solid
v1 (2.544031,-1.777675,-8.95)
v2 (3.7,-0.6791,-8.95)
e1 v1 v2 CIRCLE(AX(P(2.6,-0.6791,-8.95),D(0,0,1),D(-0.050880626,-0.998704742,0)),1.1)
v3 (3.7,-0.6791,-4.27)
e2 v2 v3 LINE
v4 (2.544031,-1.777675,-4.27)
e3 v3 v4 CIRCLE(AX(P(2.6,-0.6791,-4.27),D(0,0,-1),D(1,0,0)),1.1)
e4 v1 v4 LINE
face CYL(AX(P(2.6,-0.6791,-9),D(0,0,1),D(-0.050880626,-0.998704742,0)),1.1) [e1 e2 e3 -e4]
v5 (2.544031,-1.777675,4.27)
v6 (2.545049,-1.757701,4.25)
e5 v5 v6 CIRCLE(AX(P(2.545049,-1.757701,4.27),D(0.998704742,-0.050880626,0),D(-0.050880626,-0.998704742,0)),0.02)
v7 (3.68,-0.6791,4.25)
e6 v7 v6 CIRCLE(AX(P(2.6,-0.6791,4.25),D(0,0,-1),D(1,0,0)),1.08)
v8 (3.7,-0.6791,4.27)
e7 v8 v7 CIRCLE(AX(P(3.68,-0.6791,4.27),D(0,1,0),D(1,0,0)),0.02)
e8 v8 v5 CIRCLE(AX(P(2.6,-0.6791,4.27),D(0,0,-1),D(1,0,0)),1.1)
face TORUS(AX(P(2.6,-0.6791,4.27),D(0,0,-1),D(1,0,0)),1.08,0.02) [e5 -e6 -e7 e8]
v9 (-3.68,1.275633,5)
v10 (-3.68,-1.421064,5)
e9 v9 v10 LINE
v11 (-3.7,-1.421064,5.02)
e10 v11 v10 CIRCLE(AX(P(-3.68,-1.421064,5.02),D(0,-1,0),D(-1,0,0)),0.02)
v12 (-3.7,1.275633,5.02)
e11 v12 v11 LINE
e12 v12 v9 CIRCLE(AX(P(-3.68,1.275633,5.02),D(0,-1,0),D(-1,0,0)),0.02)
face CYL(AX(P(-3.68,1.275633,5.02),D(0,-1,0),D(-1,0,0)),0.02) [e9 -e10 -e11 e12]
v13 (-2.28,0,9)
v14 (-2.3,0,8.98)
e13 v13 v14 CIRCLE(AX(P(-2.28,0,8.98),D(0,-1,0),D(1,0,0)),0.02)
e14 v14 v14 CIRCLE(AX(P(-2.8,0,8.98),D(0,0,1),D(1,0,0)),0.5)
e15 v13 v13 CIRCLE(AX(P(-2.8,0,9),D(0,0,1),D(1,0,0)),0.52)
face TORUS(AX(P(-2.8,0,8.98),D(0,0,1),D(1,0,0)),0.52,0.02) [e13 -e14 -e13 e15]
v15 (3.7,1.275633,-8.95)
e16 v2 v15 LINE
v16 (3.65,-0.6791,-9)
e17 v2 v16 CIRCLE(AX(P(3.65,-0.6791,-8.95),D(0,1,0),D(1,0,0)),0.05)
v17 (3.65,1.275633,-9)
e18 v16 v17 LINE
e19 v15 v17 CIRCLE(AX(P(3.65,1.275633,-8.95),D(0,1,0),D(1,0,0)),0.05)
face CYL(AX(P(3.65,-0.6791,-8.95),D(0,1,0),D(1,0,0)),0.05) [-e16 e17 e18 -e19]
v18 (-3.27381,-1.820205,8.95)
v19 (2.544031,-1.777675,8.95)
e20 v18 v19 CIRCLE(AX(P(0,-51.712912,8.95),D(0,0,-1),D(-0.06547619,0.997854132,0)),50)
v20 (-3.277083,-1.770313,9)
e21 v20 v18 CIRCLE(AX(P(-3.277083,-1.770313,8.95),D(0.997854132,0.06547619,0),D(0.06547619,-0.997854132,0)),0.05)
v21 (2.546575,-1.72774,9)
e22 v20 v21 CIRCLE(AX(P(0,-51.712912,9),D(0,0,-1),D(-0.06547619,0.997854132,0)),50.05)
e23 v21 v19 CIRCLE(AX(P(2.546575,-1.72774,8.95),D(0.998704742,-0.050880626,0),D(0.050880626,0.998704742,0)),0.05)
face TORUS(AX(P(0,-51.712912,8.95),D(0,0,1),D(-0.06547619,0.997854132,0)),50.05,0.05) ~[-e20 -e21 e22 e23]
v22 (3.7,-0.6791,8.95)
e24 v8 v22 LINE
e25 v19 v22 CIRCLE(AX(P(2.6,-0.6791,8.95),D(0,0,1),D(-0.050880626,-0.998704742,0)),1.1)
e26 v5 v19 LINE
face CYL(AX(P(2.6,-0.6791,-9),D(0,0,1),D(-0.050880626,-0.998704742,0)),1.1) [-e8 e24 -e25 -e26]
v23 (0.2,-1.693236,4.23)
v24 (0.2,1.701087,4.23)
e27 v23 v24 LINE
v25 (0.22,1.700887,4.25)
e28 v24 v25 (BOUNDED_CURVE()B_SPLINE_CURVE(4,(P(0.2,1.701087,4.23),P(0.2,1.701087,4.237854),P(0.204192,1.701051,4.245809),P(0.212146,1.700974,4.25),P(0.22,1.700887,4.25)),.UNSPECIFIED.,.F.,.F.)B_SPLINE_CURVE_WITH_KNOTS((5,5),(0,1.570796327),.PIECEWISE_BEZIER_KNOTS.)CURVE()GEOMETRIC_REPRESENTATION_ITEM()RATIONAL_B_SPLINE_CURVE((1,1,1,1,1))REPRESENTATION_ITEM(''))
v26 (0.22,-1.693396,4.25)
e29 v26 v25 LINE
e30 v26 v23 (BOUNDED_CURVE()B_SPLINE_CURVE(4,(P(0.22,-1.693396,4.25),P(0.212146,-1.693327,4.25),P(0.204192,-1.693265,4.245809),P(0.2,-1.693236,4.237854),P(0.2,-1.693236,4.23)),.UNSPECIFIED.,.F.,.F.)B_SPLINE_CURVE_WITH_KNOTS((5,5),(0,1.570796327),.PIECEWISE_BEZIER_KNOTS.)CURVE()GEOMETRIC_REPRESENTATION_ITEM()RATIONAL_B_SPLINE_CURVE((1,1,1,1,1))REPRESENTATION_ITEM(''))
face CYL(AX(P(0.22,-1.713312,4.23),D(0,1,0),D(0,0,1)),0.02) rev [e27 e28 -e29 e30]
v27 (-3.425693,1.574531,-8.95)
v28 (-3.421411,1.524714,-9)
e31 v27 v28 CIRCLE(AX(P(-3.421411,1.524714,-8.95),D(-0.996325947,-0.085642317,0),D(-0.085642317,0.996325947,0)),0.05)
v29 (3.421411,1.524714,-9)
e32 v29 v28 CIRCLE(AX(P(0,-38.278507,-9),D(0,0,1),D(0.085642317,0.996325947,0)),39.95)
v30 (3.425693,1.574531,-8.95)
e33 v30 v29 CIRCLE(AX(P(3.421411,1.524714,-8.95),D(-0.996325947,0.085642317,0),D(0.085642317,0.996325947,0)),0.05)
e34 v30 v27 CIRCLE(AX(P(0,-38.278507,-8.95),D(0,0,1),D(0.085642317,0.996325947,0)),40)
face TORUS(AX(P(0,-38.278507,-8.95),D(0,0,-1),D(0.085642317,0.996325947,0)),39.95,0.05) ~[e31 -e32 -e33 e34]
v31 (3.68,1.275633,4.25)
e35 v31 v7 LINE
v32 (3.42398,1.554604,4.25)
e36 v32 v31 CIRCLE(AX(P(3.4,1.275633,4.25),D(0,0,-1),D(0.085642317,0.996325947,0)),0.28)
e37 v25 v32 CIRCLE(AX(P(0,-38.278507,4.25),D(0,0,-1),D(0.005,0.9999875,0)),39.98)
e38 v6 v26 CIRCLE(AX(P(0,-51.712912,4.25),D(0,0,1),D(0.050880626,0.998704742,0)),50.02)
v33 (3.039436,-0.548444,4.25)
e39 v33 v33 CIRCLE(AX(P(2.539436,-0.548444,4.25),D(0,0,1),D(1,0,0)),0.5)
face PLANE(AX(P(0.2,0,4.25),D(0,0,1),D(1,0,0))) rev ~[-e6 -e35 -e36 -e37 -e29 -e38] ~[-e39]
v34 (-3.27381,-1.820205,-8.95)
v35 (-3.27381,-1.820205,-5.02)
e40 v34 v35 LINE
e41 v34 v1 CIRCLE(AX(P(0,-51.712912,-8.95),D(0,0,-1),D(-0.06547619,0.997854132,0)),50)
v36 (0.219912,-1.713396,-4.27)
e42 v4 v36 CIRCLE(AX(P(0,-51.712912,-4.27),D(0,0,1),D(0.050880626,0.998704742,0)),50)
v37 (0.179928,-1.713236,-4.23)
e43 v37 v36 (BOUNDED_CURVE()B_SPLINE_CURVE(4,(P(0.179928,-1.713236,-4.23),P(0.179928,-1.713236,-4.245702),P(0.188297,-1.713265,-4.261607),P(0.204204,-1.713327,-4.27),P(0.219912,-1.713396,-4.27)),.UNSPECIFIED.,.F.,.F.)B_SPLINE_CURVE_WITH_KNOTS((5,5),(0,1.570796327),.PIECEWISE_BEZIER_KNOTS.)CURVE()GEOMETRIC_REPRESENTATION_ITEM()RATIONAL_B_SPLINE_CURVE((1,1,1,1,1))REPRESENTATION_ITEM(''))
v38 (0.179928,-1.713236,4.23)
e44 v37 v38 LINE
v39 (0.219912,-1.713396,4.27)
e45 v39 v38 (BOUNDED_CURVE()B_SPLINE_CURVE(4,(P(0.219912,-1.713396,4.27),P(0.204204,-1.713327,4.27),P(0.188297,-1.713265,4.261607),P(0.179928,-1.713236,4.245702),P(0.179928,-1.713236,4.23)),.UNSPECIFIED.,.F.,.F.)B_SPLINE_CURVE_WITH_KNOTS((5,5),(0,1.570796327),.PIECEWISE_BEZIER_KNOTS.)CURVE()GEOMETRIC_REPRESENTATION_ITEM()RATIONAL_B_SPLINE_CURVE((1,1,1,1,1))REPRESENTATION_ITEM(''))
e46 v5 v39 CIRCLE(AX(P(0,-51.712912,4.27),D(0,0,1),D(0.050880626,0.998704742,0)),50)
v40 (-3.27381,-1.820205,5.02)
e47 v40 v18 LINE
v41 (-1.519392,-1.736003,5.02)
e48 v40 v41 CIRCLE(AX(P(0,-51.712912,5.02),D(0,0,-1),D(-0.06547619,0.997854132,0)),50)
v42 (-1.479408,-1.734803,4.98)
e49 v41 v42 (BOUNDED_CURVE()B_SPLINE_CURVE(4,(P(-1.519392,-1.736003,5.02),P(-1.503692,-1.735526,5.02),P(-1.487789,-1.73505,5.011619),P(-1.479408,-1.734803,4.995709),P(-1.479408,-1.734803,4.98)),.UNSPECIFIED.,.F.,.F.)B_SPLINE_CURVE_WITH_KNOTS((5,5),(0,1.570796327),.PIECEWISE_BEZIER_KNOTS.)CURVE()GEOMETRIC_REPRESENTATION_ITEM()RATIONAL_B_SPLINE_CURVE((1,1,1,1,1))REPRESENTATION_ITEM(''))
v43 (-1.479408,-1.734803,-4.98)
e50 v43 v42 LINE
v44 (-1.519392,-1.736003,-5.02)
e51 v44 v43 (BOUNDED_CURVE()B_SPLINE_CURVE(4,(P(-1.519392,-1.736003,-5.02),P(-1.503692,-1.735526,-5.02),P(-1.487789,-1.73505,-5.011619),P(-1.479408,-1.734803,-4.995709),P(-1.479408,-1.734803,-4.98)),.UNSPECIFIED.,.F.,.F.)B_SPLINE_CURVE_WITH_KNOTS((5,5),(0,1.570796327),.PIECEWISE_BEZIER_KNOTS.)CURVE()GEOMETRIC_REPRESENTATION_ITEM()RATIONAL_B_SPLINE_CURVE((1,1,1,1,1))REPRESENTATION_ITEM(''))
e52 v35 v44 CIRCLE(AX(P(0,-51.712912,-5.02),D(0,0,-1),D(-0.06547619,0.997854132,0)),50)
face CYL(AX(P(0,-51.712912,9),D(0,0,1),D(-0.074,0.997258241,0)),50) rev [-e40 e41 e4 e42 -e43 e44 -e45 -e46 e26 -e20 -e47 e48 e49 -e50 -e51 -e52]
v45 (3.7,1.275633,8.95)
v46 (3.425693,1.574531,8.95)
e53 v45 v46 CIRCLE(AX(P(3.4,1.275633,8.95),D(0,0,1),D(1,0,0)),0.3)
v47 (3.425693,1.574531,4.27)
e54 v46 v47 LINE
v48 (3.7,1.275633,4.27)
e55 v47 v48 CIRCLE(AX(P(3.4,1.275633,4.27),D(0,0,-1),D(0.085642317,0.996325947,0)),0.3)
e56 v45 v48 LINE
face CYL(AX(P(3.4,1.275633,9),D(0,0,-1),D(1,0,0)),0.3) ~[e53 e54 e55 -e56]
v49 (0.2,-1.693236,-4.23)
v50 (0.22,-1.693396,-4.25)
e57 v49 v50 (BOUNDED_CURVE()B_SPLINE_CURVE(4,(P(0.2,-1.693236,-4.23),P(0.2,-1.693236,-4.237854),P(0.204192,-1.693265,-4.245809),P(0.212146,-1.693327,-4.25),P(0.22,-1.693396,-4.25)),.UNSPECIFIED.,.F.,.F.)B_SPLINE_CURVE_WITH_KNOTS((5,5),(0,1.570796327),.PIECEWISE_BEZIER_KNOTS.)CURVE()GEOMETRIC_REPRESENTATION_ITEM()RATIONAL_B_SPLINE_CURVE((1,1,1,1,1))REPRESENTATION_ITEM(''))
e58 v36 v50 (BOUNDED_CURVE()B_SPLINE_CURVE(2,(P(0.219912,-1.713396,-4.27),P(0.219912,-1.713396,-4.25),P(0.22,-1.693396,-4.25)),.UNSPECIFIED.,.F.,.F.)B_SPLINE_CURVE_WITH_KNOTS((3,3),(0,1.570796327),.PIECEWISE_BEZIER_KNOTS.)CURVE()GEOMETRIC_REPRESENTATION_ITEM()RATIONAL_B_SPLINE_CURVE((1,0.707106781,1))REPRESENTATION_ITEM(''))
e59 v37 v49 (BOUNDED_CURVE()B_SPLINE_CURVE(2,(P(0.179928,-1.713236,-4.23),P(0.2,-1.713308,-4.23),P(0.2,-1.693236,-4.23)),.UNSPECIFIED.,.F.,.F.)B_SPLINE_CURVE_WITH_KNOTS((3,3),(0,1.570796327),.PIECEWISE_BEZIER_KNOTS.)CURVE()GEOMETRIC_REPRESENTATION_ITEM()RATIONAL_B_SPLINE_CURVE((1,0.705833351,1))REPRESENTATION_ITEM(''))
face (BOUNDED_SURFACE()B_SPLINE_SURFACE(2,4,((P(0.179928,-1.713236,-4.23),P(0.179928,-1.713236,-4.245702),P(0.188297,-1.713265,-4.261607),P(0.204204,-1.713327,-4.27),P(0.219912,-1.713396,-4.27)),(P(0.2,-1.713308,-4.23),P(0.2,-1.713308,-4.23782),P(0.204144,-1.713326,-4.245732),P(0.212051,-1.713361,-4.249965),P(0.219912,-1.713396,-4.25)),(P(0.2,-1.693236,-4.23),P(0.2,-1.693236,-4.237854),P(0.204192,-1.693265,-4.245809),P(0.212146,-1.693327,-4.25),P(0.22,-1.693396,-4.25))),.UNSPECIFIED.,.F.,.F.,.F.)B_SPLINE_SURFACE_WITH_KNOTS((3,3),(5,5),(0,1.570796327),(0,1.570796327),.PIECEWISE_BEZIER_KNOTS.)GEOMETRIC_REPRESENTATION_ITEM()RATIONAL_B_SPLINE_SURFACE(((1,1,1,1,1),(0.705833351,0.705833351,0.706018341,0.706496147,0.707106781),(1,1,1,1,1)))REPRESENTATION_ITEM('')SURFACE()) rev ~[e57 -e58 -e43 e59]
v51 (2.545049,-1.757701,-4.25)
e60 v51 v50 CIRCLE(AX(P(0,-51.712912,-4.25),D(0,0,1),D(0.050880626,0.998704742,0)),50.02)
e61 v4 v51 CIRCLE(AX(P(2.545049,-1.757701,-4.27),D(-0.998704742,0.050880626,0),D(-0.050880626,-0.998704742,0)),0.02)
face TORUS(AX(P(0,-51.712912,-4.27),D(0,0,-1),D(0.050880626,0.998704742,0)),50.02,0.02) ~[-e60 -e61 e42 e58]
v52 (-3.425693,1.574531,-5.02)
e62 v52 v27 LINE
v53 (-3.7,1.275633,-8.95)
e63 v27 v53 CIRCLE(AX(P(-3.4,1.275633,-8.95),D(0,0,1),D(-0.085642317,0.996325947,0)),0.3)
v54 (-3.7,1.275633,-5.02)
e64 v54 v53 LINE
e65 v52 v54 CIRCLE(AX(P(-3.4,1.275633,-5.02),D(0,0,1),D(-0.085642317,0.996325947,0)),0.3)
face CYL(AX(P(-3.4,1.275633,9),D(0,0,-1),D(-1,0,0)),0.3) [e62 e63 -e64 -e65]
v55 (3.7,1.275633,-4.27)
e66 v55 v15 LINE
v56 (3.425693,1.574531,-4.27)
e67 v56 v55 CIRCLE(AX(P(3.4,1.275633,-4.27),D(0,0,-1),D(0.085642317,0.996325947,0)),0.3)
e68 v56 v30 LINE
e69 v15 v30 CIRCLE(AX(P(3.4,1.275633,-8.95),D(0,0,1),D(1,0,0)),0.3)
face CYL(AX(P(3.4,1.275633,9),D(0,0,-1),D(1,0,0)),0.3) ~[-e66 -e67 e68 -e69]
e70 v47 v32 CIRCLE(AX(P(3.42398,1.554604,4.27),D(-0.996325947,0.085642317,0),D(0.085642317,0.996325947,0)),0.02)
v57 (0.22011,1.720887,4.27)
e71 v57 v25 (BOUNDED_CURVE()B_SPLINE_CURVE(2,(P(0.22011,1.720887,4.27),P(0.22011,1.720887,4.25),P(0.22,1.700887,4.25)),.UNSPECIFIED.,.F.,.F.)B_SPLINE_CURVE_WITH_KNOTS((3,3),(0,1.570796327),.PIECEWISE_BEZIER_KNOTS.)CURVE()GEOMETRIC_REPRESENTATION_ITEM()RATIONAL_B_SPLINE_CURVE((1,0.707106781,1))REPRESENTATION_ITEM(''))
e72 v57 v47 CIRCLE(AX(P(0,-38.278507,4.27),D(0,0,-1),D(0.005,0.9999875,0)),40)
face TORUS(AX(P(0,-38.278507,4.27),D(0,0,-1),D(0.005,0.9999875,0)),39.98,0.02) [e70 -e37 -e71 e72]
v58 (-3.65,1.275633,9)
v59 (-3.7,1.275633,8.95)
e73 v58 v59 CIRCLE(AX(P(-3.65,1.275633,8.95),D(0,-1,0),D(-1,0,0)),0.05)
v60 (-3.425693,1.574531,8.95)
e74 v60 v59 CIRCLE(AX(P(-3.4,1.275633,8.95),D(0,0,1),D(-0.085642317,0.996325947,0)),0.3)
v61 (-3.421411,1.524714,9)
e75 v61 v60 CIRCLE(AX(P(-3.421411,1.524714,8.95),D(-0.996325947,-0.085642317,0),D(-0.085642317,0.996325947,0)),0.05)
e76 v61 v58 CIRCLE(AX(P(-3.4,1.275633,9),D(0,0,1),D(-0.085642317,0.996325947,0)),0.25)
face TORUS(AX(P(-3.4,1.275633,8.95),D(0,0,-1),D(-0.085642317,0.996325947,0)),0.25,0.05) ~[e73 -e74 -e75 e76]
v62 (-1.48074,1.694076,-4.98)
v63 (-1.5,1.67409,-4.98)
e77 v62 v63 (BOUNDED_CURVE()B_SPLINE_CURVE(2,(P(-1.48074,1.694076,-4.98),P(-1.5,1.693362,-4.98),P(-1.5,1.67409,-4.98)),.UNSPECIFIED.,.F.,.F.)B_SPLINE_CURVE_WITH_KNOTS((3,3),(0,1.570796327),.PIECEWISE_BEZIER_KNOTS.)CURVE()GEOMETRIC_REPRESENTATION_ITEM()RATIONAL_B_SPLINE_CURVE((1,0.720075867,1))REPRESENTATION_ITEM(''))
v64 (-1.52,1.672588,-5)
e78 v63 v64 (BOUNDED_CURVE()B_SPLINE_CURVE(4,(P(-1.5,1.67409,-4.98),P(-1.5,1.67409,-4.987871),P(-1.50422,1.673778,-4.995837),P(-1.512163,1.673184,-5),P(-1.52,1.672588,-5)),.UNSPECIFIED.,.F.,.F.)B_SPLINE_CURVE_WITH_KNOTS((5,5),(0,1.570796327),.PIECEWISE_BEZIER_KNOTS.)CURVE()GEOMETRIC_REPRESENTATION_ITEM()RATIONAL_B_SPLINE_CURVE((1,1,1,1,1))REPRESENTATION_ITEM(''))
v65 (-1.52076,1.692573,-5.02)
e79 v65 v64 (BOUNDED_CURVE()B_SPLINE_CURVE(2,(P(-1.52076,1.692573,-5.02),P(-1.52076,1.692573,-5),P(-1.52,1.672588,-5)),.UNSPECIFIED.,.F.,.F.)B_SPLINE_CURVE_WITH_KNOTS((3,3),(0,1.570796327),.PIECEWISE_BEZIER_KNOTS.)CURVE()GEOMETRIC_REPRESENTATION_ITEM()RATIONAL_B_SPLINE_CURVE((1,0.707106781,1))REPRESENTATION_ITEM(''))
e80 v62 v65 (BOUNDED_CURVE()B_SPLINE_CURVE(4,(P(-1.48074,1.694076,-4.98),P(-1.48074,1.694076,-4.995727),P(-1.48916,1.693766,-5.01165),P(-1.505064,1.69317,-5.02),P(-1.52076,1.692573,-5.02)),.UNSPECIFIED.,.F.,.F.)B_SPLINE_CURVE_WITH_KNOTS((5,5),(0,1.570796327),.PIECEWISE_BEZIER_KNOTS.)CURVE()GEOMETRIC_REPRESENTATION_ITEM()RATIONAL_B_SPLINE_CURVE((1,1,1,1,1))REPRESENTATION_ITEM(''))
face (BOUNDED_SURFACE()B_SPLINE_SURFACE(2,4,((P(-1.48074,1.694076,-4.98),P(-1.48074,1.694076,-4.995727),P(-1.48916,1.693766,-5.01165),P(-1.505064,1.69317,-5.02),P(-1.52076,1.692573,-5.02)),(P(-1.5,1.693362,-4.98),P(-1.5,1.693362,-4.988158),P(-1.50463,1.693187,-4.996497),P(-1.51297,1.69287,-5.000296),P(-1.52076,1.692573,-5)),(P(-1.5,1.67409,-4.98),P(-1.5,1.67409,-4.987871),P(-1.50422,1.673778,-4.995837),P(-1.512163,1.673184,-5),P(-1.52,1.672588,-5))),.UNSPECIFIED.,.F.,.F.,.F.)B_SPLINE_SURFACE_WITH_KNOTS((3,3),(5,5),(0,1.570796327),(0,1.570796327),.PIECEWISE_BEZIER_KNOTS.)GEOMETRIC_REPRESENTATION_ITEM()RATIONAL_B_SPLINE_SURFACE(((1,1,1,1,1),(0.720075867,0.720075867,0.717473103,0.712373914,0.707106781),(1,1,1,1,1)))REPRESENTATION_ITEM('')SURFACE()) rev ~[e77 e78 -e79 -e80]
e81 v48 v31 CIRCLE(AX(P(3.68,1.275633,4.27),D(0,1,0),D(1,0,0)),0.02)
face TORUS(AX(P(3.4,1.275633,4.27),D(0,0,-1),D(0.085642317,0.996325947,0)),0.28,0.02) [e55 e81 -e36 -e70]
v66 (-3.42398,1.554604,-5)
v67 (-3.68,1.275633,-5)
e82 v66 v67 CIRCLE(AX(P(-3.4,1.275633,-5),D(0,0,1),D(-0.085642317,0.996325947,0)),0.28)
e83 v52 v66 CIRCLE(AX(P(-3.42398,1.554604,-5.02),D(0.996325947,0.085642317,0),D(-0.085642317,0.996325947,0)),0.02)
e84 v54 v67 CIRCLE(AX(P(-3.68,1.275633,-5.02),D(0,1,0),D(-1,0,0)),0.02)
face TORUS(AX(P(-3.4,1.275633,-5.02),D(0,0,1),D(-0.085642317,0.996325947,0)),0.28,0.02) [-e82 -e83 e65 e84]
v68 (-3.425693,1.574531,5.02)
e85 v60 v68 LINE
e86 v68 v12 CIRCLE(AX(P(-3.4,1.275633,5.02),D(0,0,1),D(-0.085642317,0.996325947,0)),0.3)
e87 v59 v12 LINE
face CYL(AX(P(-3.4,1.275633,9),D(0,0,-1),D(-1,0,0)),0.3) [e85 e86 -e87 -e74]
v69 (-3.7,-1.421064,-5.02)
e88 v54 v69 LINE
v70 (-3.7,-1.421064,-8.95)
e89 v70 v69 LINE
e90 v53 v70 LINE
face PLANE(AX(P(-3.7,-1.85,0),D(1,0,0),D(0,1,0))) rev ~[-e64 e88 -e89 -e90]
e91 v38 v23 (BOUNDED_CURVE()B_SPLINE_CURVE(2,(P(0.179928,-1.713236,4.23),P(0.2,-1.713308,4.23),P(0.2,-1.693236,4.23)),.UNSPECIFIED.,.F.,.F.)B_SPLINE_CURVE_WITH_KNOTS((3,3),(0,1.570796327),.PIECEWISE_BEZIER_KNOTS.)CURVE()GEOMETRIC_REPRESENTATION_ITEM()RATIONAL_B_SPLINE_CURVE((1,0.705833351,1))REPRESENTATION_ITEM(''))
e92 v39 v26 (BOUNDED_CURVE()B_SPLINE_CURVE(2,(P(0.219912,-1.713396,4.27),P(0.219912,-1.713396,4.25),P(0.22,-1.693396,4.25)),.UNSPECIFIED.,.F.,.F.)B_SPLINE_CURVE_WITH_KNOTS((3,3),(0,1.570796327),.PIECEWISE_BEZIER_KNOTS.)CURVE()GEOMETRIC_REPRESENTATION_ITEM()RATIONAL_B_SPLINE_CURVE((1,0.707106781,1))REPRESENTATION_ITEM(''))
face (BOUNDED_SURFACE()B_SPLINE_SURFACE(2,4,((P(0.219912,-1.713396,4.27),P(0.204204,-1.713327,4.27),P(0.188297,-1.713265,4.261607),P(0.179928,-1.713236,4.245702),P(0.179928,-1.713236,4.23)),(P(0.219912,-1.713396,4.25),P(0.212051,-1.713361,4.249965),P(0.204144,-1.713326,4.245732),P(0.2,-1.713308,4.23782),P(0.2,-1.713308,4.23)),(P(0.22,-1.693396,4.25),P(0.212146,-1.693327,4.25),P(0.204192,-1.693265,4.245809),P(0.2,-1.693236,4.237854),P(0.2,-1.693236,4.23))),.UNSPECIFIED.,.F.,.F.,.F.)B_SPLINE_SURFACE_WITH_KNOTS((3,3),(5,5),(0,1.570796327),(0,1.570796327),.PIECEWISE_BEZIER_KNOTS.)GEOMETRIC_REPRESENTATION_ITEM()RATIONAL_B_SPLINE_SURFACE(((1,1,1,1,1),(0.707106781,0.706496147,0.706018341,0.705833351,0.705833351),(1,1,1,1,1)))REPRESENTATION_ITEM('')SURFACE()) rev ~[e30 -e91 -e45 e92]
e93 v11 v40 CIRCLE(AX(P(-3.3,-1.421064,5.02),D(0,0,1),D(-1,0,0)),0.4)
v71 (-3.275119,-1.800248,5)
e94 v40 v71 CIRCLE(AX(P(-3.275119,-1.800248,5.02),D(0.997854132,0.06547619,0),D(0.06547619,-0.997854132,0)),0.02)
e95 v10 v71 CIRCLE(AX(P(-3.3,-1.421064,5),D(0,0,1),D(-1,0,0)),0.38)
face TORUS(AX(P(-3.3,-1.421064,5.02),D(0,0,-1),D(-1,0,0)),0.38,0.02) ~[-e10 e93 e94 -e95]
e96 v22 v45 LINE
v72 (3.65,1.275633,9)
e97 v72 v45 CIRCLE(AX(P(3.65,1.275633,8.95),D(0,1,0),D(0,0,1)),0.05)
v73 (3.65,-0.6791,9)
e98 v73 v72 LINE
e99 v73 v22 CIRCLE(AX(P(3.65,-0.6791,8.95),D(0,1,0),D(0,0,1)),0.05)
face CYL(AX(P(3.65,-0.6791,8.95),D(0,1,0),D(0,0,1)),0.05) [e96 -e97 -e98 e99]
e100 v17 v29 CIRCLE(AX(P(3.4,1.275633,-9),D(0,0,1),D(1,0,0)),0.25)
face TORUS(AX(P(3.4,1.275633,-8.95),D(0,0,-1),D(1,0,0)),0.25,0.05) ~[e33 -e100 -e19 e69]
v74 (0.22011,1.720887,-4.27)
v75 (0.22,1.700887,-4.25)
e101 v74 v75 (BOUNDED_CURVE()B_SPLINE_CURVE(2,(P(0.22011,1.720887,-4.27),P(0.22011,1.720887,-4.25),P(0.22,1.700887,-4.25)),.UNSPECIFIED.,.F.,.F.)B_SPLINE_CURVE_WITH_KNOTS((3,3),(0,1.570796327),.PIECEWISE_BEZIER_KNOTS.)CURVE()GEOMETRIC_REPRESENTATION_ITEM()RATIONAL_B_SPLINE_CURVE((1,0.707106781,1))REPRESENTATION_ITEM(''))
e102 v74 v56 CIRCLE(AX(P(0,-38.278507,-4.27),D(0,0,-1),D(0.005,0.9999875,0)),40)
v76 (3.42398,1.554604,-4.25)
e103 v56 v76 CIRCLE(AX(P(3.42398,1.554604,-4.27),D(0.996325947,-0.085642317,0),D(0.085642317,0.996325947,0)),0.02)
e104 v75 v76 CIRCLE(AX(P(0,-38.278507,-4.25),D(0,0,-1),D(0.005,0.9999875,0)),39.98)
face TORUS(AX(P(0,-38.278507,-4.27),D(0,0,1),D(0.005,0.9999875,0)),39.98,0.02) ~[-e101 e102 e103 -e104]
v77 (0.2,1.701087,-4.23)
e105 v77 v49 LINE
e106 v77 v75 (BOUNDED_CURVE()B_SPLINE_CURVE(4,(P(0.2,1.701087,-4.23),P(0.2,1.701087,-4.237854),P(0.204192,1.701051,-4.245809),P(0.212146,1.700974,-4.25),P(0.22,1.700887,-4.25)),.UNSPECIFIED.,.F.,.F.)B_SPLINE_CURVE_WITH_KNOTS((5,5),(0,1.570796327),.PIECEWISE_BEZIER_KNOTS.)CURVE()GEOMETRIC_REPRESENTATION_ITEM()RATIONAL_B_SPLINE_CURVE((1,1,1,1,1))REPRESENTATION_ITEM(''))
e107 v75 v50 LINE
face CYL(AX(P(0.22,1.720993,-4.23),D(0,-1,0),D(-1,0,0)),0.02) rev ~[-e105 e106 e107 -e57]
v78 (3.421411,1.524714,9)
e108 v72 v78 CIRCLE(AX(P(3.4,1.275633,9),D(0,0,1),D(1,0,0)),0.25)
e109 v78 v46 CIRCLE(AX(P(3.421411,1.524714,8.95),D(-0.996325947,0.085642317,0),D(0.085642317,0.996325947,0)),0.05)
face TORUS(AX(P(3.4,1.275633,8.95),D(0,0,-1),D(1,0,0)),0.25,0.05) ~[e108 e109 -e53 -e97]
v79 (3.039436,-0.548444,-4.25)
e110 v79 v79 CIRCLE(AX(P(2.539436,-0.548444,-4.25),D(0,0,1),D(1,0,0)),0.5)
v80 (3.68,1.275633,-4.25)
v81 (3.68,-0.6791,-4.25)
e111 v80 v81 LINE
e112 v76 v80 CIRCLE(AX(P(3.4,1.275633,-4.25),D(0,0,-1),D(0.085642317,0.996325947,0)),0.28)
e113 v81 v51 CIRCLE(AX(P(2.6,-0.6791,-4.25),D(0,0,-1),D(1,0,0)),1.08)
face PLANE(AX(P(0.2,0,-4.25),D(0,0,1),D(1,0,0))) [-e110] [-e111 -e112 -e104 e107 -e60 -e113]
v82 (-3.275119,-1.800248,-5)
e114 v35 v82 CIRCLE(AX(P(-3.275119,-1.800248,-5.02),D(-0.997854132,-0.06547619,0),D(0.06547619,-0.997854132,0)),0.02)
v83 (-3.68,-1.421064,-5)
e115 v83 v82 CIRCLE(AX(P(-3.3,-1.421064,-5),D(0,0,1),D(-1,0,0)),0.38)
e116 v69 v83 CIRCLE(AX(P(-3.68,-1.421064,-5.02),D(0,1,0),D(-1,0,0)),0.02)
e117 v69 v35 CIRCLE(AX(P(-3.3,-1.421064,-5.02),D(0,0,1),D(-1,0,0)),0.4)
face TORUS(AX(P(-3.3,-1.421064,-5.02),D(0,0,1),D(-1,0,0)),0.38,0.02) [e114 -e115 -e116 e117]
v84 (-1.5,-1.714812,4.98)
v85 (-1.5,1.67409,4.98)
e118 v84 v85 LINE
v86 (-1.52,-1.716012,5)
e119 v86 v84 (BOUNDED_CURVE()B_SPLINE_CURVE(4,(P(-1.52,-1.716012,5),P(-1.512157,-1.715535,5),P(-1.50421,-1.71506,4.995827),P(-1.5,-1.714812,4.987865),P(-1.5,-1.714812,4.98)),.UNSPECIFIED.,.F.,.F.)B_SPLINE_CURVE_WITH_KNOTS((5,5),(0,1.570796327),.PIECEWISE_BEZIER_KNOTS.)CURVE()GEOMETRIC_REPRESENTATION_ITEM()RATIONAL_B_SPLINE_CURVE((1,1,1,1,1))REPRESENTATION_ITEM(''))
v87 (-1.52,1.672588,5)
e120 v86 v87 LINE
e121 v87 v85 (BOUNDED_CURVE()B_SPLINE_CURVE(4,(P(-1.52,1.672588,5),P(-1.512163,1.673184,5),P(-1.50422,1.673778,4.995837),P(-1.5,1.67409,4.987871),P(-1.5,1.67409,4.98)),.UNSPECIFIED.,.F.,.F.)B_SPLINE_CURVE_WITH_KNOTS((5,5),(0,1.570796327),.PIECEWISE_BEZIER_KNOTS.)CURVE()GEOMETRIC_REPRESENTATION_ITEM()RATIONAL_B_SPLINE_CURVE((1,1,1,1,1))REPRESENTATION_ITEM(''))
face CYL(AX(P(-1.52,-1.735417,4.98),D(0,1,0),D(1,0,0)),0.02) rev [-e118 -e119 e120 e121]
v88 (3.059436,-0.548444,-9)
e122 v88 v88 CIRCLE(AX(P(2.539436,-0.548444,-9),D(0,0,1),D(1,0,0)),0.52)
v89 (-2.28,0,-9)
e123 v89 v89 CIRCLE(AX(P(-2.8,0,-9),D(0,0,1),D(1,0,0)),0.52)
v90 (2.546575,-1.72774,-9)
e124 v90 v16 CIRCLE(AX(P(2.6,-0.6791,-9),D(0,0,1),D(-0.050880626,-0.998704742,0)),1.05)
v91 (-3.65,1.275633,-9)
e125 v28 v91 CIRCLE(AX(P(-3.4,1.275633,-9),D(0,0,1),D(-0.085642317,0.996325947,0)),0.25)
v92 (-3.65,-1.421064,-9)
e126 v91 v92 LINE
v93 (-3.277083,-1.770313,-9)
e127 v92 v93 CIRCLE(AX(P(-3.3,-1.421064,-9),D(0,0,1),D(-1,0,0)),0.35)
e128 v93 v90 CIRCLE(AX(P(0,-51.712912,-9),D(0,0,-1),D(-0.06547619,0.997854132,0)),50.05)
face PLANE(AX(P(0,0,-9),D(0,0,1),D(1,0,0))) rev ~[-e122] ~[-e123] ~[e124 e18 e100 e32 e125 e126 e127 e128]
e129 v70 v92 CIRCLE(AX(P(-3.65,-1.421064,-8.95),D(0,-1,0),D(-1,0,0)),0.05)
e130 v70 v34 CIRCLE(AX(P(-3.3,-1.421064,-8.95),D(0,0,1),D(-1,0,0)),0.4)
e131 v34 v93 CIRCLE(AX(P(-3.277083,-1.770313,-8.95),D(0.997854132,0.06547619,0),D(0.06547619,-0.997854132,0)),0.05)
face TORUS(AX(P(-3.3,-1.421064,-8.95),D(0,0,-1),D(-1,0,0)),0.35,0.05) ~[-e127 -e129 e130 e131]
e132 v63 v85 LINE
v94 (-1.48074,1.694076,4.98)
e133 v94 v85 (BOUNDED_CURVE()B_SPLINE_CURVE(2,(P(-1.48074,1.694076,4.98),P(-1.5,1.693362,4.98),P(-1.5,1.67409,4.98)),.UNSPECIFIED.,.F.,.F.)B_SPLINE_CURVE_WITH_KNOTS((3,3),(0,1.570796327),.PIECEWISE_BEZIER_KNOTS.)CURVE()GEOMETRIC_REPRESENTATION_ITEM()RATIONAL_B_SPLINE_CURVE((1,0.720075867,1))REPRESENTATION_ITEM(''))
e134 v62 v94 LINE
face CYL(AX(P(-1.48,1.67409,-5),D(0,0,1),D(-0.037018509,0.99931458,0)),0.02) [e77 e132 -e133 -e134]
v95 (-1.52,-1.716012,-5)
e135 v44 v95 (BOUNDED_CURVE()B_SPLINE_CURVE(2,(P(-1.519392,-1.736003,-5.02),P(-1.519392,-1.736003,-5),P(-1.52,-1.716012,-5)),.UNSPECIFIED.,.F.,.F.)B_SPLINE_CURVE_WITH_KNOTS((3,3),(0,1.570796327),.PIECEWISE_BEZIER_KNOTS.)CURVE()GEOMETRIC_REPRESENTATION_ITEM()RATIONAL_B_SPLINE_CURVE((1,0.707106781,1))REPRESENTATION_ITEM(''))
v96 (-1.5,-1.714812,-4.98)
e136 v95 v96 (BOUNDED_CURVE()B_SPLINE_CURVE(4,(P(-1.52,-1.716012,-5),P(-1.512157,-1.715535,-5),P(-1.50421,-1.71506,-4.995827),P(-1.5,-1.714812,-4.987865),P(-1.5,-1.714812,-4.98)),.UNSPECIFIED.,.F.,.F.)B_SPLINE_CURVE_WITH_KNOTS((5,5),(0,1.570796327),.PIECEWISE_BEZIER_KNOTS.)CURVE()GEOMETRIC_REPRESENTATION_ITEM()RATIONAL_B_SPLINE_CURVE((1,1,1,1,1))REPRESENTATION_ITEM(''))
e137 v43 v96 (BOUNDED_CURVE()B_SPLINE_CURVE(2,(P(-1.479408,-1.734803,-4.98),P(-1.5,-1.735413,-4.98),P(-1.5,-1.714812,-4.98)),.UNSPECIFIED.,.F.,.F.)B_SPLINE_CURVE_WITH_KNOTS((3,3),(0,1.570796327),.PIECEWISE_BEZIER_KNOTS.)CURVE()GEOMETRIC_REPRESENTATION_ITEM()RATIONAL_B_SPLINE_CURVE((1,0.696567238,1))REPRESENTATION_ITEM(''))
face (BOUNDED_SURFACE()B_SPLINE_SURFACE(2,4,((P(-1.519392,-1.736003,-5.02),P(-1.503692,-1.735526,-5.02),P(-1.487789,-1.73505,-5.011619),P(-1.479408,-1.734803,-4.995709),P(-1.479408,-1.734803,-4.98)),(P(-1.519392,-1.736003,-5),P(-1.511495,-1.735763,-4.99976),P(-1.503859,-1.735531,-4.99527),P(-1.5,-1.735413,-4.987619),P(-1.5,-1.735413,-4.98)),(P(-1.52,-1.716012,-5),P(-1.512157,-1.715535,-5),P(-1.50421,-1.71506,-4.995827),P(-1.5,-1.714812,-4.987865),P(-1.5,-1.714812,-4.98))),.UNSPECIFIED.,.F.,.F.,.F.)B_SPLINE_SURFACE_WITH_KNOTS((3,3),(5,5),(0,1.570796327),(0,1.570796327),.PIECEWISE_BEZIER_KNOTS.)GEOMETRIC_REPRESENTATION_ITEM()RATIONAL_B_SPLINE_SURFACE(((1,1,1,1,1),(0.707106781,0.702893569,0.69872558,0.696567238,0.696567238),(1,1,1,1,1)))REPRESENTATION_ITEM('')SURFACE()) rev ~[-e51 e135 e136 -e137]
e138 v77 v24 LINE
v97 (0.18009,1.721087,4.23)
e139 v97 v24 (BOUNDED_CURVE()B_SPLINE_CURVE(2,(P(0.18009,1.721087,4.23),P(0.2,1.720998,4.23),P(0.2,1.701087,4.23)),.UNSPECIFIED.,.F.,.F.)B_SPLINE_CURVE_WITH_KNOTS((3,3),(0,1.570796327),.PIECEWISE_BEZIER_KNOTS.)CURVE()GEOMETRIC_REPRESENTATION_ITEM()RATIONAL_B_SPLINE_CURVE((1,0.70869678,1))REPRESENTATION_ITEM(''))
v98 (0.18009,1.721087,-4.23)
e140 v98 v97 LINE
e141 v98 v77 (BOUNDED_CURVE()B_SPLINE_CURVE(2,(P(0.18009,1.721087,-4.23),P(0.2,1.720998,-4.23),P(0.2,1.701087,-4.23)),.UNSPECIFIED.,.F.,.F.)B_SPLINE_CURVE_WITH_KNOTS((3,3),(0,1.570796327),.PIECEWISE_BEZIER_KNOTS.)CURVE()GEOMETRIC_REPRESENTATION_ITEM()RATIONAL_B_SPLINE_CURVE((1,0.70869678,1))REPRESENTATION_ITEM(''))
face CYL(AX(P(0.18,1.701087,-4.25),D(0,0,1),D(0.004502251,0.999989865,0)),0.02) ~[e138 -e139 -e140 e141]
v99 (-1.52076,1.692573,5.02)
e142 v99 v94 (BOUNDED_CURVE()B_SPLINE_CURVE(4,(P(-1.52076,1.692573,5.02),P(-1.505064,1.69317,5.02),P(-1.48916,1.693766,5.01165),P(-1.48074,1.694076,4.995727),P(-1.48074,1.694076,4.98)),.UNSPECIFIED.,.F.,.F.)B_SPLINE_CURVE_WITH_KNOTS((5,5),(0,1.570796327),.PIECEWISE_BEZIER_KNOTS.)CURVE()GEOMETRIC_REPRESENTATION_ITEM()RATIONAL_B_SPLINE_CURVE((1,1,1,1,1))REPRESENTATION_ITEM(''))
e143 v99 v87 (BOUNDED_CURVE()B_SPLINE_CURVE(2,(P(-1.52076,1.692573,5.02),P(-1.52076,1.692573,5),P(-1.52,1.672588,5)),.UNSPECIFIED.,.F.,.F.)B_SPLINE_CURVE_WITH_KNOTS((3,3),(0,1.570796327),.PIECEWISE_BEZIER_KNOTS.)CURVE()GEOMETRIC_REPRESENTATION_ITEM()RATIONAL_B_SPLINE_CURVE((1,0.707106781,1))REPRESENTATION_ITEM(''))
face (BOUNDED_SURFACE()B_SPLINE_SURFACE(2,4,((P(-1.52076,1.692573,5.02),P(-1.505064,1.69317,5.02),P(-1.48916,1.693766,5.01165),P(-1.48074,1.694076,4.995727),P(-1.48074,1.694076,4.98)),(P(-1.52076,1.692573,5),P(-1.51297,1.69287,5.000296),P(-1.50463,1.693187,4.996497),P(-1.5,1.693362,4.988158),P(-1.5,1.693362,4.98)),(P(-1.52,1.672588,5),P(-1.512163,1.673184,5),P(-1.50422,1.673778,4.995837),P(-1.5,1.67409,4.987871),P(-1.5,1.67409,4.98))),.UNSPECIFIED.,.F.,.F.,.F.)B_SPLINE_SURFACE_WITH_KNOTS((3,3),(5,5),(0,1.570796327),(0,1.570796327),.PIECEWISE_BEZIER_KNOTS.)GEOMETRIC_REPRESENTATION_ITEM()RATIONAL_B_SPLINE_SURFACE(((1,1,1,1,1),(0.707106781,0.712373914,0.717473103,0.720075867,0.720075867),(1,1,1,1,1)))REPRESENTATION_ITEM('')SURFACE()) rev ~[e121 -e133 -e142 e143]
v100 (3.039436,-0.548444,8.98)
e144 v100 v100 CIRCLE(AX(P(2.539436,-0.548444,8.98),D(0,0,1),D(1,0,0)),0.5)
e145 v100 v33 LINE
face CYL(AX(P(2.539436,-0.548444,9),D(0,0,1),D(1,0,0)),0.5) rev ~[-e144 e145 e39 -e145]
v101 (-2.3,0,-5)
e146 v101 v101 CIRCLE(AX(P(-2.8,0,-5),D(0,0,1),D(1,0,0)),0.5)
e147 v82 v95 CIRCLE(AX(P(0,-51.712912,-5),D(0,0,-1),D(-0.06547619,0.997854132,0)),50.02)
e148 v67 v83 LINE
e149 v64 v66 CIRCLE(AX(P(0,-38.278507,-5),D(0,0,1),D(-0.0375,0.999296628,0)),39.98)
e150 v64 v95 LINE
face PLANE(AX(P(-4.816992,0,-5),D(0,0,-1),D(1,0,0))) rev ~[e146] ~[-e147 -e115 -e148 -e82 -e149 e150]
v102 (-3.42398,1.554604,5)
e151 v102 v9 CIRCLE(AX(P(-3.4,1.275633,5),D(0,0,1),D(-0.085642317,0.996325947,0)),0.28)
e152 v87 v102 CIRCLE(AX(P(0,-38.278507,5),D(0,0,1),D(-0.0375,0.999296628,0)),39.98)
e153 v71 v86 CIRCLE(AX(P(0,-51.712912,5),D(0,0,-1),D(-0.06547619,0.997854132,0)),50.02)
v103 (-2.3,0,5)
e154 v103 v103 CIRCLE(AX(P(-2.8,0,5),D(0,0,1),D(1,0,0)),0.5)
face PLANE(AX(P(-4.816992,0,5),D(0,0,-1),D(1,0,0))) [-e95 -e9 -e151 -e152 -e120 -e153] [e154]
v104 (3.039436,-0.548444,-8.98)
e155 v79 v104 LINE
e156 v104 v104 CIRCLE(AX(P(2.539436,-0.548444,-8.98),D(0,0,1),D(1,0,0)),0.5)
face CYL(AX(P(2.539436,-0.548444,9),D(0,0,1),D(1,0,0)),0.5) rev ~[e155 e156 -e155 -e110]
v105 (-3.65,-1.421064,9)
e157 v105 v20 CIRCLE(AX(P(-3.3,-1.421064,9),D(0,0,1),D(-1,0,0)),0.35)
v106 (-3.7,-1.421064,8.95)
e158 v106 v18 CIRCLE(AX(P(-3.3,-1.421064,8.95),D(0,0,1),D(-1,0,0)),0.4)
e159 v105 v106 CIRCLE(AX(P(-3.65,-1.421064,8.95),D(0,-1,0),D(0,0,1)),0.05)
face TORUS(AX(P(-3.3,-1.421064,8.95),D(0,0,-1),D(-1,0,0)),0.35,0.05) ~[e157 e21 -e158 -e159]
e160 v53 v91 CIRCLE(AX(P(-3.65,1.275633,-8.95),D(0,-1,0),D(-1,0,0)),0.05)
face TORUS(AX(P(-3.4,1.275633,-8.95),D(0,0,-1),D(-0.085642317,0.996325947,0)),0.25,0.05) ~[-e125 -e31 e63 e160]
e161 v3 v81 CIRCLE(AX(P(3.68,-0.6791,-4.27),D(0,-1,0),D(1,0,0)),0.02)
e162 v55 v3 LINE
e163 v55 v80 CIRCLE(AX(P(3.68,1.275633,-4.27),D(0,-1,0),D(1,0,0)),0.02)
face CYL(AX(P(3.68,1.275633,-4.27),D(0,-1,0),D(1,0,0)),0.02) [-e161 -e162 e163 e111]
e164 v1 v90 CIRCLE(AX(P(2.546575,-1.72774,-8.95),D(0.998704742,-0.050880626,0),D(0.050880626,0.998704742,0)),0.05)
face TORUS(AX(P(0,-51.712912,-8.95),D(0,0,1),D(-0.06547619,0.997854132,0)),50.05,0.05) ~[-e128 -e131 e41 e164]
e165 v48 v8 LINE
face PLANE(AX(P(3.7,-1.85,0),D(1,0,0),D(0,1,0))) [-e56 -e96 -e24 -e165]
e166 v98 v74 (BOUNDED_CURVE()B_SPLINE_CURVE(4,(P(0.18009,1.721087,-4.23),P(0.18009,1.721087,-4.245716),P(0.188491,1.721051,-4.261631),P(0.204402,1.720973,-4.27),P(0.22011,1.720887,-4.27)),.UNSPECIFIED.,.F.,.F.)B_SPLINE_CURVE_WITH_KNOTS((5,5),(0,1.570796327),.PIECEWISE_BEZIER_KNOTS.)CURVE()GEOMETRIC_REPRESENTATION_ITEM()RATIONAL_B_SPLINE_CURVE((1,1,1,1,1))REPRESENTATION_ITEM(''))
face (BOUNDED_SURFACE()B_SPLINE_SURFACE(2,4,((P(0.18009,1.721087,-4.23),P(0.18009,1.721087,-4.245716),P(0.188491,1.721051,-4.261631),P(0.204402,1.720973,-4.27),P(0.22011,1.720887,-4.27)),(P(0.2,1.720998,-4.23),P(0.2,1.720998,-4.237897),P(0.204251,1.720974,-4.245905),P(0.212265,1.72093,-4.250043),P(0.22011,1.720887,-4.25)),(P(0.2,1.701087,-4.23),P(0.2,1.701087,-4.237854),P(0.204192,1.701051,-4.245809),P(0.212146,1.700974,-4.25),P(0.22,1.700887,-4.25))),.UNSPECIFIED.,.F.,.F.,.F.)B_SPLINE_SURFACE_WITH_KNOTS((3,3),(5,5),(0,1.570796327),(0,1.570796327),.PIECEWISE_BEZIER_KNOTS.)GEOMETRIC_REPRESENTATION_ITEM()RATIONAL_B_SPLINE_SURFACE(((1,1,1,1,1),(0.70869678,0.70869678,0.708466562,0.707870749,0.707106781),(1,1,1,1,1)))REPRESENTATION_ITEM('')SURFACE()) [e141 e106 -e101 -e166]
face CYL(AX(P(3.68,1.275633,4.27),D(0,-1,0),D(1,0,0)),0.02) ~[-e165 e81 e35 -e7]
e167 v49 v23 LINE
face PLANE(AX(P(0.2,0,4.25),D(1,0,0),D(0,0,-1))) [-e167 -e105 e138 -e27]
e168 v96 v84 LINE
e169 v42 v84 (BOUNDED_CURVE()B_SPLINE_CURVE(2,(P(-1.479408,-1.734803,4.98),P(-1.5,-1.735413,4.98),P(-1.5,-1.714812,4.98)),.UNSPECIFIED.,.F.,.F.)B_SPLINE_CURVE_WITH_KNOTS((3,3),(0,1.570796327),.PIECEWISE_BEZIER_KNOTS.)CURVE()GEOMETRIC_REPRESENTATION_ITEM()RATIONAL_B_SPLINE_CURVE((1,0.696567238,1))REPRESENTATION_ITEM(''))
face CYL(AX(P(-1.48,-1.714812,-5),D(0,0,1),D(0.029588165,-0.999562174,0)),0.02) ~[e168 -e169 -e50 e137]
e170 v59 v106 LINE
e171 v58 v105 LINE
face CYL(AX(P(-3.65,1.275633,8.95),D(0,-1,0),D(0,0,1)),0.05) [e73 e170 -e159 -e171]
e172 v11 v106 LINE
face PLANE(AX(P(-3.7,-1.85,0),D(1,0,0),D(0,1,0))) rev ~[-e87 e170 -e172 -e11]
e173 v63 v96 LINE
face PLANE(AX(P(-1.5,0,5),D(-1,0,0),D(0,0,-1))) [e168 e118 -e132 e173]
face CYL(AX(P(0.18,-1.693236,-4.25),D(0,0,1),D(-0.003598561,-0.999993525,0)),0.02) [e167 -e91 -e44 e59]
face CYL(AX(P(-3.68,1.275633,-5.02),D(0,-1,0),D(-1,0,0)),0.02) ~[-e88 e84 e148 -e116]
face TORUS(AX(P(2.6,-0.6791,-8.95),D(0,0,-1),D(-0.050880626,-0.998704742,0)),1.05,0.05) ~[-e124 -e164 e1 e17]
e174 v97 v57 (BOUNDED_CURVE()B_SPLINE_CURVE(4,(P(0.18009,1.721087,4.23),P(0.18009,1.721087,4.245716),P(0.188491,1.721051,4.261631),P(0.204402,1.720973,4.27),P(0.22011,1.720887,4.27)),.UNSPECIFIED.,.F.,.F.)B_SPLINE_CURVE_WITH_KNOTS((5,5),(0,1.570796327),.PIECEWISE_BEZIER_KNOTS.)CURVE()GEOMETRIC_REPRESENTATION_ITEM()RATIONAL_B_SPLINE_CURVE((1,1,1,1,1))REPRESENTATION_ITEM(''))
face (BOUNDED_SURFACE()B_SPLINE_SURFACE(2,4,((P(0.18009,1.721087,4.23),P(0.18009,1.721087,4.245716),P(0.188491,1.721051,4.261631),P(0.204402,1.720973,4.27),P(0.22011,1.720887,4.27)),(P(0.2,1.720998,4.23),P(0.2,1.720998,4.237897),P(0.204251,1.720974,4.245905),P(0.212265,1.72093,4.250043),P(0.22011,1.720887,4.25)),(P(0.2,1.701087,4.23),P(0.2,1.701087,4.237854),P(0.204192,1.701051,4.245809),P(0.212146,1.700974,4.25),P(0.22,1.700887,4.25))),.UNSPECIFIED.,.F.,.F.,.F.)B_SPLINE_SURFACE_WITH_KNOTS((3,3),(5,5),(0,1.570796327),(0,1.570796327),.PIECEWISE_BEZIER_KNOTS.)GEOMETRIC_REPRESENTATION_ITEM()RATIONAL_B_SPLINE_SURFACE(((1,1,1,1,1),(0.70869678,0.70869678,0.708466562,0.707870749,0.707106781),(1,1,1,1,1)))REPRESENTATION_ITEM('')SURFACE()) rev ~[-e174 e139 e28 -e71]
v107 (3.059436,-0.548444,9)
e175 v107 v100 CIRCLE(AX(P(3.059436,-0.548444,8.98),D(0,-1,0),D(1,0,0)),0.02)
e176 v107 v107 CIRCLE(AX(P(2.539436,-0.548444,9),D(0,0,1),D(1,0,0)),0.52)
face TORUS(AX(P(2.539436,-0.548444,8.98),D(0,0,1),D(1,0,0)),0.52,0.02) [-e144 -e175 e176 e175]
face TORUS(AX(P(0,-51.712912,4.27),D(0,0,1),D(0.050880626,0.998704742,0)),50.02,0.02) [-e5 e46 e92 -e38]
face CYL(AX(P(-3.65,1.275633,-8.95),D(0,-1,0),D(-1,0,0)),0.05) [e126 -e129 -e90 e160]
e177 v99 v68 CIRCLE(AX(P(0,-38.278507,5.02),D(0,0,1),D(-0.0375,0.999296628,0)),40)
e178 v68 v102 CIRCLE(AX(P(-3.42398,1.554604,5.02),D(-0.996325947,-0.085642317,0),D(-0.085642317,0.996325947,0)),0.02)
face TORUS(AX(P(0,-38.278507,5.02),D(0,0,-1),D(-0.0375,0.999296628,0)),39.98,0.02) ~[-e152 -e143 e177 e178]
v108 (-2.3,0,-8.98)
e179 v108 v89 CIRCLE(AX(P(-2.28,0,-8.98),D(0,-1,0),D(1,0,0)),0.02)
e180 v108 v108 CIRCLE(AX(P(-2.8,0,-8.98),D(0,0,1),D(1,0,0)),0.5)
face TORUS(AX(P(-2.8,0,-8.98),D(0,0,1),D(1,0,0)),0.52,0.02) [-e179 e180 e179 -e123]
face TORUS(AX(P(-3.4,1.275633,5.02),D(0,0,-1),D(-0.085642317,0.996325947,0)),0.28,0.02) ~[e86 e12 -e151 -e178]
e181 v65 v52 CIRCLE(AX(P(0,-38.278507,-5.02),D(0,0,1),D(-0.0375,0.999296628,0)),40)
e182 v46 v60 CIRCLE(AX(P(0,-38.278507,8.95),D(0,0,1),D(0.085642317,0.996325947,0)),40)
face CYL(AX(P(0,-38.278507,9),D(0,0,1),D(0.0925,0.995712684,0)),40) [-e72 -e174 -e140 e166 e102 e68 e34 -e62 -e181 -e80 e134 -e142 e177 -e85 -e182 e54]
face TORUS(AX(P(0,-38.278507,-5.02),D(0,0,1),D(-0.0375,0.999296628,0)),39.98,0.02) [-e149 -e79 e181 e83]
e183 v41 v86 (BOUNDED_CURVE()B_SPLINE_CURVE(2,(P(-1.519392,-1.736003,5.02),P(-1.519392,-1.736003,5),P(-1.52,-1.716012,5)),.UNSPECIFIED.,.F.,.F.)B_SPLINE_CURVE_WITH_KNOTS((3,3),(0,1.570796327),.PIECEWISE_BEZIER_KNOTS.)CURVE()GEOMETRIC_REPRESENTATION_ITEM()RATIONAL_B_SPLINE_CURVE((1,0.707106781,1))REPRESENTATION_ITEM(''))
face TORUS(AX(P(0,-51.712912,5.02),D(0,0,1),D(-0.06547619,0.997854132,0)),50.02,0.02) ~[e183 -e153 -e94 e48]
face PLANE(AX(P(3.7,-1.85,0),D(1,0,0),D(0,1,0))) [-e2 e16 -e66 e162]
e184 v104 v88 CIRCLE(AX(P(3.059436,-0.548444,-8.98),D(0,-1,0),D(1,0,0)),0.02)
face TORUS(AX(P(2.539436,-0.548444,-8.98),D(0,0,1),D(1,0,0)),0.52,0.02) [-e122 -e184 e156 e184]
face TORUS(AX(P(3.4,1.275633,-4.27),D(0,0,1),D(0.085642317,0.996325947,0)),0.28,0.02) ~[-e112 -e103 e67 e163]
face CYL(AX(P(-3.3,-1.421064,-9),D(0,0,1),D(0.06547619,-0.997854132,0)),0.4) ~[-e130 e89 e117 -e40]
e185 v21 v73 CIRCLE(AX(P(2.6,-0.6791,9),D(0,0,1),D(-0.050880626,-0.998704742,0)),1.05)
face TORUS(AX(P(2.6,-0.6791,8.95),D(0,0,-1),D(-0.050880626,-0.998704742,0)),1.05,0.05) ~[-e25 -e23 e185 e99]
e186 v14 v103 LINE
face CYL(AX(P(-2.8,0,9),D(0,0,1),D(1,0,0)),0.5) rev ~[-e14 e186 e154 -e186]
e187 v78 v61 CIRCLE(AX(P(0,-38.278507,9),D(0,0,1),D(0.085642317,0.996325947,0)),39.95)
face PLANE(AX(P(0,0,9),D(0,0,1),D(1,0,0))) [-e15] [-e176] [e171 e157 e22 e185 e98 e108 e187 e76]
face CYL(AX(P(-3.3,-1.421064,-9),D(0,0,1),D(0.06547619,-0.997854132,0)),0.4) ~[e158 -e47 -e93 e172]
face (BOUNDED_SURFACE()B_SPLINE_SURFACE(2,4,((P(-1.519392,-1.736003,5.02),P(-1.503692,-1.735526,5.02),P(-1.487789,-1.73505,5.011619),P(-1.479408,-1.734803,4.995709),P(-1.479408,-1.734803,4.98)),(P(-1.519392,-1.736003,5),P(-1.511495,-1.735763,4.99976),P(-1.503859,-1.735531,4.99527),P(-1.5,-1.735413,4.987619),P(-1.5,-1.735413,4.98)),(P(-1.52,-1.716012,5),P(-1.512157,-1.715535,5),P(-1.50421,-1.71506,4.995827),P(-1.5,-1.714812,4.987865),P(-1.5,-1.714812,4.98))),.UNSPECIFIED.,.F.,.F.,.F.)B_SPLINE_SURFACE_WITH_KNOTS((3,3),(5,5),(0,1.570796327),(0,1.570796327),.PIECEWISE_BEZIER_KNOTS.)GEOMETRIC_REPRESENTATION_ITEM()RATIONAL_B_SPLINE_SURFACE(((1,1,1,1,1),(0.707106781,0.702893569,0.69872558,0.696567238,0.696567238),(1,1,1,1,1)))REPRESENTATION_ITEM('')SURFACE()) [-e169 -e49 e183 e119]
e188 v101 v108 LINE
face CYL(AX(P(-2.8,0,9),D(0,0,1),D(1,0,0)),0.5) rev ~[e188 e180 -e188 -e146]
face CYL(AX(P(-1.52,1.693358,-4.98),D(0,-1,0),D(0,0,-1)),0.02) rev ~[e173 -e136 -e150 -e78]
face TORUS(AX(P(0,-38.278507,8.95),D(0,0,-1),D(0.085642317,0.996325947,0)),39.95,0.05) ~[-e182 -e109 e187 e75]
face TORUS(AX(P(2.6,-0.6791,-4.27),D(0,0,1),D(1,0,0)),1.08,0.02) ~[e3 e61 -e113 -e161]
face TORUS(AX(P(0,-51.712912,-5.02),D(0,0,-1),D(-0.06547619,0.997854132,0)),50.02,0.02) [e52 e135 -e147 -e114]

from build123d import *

# Parameters (mm, degrees)
SKETCH1_W           = 7.4
SKETCH1_H           = 3.7
BOSS_EXTRUDE1_DEPTH = 9
CUT_EXTRUDE1_DEPTH  = 24.8
FILLET1_R           = 1.1
FILLET2_R           = 0.3
SKETCH3_R           = 0.5
CUT_EXTRUDE2_DEPTH  = 24.8
FILLET4_R           = 0.02
FILLET5_R           = 0.4
FILLET6_R           = 0.05
SKETCH4_W           = 3.316991647
SKETCH4_H           = 10
SKETCH4_W_2         = 7.65842035
SKETCH4_H_2         = 8.5
CUT_EXTRUDE3_DEPTH  = 5
FILLET7_R           = 0.02


with BuildPart() as part:
    # Sketch1 → Boss-Extrude1 (new body, symmetric)
    with BuildSketch(Plane.XY):
        Rectangle(SKETCH1_W, SKETCH1_H)
    extrude(amount=BOSS_EXTRUDE1_DEPTH, both=True)

    # Sketch2 → Cut-Extrude1 (cut)
    with BuildSketch(Plane.XY.offset(9)):
        with BuildLine():
            Line((-3.7, 1.55), (-7.120690005, 4.011417256))
            Line((-7.120690005, 4.011417256), (5.535860742, 3.886722174))
            Line((5.535860742, 3.886722174), (3.7, 1.55))
            ThreePointArc((3.7, 1.55), (0, 1.721492621), (-3.7, 1.55))
        make_face()
        with BuildLine():
            Line((3.7, -1.85), (0.350623614, -3.782025322))
            Line((0.350623614, -3.782025322), (-3.7, -1.85))
            ThreePointArc((-3.7, -1.85), (0, -1.712912069), (3.7, -1.85))
        make_face()
    extrude(amount=-CUT_EXTRUDE1_DEPTH, mode=Mode.SUBTRACT)

    # Fillet1
    fillet1_edges = [part.edges().sort_by_distance(p)[0] for p in [
        (3.7, -1.85, 0),
    ]]
    fillet(fillet1_edges, radius=FILLET1_R)

    # Fillet2
    fillet2_edges = [part.edges().sort_by_distance(p)[0] for p in [
        (3.7, 1.55, 0),
        (-3.7, 1.55, 0),
    ]]
    fillet(fillet2_edges, radius=FILLET2_R)

    # Sketch3 → Cut-Extrude2 (cut)
    with BuildSketch(Plane.XY.offset(9)):
        with Locations((2.539436079, -0.548443568)):
            Circle(SKETCH3_R)
        with Locations((-2.8, 0)):
            Circle(SKETCH3_R)
    extrude(amount=-CUT_EXTRUDE2_DEPTH, mode=Mode.SUBTRACT)

    # Fillet4
    fillet4_edges = [part.edges().sort_by_distance(p)[0] for p in [
        (2.039436079, -0.548443568, -9),
        (2.039436079, -0.548443568, 9),
        (-3.3, 0, -9),
        (-3.3, 0, 9),
    ]]
    fillet(fillet4_edges, radius=FILLET4_R)

    # Fillet5
    fillet5_edges = [part.edges().sort_by_distance(p)[0] for p in [
        (-3.7, -1.85, 0),
    ]]
    fillet(fillet5_edges, radius=FILLET5_R)

    # Fillet6
    fillet6_edges = [part.edges().sort_by_distance(p)[0] for p in [
        (3.7, 0.298266493, -9),
        (3.7, 0.298266493, 9),
        (-0.365508237, -1.71424805, -9),
        (3.35777122, -1.476459629, -9),
        (-0.365508237, -1.71424805, 9),
        (3.35777122, -1.476459629, 9),
        (0, 1.721492621, 9),
        (-3.7, -0.072715545, 9),
        (-3.621029193, 1.478477738, 9),
        (3.621029193, 1.478477738, 9),
        (0, 1.721492621, -9),
        (-3.7, -0.072715545, -9),
        (-3.621029193, 1.478477738, -9),
        (3.621029193, 1.478477738, -9),
        (-3.573426233, -1.713019462, -9),
        (-3.573426233, -1.713019462, 9),
    ]]
    fillet(fillet6_edges, radius=FILLET6_R)

    # Sketch4 → Cut-Extrude3 (cut, symmetric)
    with BuildSketch(Plane(origin=(0, 0, 0), x_dir=(1, 0, 0), z_dir=(0, 1, 0))):
        with Locations((-3.158495824, 0)):
            Rectangle(SKETCH4_W, SKETCH4_H)
        with Locations((4.029210175, 0)):
            Rectangle(SKETCH4_W_2, SKETCH4_H_2)
    extrude(amount=CUT_EXTRUDE3_DEPTH, both=True, mode=Mode.SUBTRACT)

    # Fillet7
    fillet7_edges = [part.edges().sort_by_distance(p)[0] for p in [
        (-3.573426233, -1.713019462, 5),
        (-3.573426233, -1.713019462, -5),
        (-1.5, -1.735417134, 0),
        (-1.5, -0.021029703, -5),
        (-1.5, 1.693357727, 0),
        (-2.463562889, 1.645556266, -5),
        (-2.387281217, -1.769935702, -5),
        (-3.7, -0.072715545, -5),
        (-1.5, -0.021029703, 5),
        (-2.463562889, 1.645556266, 5),
        (-3.7, -0.072715545, 5),
        (-2.387281217, -1.769935702, 5),
        (-3.621029193, 1.478477738, -5),
        (-3.621029193, 1.478477738, 5),
        (0.2, -1.713312071, 0),
        (0.2, 0.003840274, 4.25),
        (0.2, 1.720992618, 0),
        (1.372393021, -1.731750244, -4.25),
        (0.2, 0.003840274, -4.25),
        (1.814324851, 1.680324253, -4.25),
        (3.7, 0.298266493, -4.25),
        (3.35777122, -1.476459629, -4.25),
        (3.621029193, 1.478477738, -4.25),
        (1.372393021, -1.731750244, 4.25),
        (3.7, 0.298266493, 4.25),
        (1.814324851, 1.680324253, 4.25),
        (3.621029193, 1.478477738, 4.25),
        (3.35777122, -1.476459629, 4.25),
    ]]
    fillet(fillet7_edges, radius=FILLET7_R)


solid = part.part
